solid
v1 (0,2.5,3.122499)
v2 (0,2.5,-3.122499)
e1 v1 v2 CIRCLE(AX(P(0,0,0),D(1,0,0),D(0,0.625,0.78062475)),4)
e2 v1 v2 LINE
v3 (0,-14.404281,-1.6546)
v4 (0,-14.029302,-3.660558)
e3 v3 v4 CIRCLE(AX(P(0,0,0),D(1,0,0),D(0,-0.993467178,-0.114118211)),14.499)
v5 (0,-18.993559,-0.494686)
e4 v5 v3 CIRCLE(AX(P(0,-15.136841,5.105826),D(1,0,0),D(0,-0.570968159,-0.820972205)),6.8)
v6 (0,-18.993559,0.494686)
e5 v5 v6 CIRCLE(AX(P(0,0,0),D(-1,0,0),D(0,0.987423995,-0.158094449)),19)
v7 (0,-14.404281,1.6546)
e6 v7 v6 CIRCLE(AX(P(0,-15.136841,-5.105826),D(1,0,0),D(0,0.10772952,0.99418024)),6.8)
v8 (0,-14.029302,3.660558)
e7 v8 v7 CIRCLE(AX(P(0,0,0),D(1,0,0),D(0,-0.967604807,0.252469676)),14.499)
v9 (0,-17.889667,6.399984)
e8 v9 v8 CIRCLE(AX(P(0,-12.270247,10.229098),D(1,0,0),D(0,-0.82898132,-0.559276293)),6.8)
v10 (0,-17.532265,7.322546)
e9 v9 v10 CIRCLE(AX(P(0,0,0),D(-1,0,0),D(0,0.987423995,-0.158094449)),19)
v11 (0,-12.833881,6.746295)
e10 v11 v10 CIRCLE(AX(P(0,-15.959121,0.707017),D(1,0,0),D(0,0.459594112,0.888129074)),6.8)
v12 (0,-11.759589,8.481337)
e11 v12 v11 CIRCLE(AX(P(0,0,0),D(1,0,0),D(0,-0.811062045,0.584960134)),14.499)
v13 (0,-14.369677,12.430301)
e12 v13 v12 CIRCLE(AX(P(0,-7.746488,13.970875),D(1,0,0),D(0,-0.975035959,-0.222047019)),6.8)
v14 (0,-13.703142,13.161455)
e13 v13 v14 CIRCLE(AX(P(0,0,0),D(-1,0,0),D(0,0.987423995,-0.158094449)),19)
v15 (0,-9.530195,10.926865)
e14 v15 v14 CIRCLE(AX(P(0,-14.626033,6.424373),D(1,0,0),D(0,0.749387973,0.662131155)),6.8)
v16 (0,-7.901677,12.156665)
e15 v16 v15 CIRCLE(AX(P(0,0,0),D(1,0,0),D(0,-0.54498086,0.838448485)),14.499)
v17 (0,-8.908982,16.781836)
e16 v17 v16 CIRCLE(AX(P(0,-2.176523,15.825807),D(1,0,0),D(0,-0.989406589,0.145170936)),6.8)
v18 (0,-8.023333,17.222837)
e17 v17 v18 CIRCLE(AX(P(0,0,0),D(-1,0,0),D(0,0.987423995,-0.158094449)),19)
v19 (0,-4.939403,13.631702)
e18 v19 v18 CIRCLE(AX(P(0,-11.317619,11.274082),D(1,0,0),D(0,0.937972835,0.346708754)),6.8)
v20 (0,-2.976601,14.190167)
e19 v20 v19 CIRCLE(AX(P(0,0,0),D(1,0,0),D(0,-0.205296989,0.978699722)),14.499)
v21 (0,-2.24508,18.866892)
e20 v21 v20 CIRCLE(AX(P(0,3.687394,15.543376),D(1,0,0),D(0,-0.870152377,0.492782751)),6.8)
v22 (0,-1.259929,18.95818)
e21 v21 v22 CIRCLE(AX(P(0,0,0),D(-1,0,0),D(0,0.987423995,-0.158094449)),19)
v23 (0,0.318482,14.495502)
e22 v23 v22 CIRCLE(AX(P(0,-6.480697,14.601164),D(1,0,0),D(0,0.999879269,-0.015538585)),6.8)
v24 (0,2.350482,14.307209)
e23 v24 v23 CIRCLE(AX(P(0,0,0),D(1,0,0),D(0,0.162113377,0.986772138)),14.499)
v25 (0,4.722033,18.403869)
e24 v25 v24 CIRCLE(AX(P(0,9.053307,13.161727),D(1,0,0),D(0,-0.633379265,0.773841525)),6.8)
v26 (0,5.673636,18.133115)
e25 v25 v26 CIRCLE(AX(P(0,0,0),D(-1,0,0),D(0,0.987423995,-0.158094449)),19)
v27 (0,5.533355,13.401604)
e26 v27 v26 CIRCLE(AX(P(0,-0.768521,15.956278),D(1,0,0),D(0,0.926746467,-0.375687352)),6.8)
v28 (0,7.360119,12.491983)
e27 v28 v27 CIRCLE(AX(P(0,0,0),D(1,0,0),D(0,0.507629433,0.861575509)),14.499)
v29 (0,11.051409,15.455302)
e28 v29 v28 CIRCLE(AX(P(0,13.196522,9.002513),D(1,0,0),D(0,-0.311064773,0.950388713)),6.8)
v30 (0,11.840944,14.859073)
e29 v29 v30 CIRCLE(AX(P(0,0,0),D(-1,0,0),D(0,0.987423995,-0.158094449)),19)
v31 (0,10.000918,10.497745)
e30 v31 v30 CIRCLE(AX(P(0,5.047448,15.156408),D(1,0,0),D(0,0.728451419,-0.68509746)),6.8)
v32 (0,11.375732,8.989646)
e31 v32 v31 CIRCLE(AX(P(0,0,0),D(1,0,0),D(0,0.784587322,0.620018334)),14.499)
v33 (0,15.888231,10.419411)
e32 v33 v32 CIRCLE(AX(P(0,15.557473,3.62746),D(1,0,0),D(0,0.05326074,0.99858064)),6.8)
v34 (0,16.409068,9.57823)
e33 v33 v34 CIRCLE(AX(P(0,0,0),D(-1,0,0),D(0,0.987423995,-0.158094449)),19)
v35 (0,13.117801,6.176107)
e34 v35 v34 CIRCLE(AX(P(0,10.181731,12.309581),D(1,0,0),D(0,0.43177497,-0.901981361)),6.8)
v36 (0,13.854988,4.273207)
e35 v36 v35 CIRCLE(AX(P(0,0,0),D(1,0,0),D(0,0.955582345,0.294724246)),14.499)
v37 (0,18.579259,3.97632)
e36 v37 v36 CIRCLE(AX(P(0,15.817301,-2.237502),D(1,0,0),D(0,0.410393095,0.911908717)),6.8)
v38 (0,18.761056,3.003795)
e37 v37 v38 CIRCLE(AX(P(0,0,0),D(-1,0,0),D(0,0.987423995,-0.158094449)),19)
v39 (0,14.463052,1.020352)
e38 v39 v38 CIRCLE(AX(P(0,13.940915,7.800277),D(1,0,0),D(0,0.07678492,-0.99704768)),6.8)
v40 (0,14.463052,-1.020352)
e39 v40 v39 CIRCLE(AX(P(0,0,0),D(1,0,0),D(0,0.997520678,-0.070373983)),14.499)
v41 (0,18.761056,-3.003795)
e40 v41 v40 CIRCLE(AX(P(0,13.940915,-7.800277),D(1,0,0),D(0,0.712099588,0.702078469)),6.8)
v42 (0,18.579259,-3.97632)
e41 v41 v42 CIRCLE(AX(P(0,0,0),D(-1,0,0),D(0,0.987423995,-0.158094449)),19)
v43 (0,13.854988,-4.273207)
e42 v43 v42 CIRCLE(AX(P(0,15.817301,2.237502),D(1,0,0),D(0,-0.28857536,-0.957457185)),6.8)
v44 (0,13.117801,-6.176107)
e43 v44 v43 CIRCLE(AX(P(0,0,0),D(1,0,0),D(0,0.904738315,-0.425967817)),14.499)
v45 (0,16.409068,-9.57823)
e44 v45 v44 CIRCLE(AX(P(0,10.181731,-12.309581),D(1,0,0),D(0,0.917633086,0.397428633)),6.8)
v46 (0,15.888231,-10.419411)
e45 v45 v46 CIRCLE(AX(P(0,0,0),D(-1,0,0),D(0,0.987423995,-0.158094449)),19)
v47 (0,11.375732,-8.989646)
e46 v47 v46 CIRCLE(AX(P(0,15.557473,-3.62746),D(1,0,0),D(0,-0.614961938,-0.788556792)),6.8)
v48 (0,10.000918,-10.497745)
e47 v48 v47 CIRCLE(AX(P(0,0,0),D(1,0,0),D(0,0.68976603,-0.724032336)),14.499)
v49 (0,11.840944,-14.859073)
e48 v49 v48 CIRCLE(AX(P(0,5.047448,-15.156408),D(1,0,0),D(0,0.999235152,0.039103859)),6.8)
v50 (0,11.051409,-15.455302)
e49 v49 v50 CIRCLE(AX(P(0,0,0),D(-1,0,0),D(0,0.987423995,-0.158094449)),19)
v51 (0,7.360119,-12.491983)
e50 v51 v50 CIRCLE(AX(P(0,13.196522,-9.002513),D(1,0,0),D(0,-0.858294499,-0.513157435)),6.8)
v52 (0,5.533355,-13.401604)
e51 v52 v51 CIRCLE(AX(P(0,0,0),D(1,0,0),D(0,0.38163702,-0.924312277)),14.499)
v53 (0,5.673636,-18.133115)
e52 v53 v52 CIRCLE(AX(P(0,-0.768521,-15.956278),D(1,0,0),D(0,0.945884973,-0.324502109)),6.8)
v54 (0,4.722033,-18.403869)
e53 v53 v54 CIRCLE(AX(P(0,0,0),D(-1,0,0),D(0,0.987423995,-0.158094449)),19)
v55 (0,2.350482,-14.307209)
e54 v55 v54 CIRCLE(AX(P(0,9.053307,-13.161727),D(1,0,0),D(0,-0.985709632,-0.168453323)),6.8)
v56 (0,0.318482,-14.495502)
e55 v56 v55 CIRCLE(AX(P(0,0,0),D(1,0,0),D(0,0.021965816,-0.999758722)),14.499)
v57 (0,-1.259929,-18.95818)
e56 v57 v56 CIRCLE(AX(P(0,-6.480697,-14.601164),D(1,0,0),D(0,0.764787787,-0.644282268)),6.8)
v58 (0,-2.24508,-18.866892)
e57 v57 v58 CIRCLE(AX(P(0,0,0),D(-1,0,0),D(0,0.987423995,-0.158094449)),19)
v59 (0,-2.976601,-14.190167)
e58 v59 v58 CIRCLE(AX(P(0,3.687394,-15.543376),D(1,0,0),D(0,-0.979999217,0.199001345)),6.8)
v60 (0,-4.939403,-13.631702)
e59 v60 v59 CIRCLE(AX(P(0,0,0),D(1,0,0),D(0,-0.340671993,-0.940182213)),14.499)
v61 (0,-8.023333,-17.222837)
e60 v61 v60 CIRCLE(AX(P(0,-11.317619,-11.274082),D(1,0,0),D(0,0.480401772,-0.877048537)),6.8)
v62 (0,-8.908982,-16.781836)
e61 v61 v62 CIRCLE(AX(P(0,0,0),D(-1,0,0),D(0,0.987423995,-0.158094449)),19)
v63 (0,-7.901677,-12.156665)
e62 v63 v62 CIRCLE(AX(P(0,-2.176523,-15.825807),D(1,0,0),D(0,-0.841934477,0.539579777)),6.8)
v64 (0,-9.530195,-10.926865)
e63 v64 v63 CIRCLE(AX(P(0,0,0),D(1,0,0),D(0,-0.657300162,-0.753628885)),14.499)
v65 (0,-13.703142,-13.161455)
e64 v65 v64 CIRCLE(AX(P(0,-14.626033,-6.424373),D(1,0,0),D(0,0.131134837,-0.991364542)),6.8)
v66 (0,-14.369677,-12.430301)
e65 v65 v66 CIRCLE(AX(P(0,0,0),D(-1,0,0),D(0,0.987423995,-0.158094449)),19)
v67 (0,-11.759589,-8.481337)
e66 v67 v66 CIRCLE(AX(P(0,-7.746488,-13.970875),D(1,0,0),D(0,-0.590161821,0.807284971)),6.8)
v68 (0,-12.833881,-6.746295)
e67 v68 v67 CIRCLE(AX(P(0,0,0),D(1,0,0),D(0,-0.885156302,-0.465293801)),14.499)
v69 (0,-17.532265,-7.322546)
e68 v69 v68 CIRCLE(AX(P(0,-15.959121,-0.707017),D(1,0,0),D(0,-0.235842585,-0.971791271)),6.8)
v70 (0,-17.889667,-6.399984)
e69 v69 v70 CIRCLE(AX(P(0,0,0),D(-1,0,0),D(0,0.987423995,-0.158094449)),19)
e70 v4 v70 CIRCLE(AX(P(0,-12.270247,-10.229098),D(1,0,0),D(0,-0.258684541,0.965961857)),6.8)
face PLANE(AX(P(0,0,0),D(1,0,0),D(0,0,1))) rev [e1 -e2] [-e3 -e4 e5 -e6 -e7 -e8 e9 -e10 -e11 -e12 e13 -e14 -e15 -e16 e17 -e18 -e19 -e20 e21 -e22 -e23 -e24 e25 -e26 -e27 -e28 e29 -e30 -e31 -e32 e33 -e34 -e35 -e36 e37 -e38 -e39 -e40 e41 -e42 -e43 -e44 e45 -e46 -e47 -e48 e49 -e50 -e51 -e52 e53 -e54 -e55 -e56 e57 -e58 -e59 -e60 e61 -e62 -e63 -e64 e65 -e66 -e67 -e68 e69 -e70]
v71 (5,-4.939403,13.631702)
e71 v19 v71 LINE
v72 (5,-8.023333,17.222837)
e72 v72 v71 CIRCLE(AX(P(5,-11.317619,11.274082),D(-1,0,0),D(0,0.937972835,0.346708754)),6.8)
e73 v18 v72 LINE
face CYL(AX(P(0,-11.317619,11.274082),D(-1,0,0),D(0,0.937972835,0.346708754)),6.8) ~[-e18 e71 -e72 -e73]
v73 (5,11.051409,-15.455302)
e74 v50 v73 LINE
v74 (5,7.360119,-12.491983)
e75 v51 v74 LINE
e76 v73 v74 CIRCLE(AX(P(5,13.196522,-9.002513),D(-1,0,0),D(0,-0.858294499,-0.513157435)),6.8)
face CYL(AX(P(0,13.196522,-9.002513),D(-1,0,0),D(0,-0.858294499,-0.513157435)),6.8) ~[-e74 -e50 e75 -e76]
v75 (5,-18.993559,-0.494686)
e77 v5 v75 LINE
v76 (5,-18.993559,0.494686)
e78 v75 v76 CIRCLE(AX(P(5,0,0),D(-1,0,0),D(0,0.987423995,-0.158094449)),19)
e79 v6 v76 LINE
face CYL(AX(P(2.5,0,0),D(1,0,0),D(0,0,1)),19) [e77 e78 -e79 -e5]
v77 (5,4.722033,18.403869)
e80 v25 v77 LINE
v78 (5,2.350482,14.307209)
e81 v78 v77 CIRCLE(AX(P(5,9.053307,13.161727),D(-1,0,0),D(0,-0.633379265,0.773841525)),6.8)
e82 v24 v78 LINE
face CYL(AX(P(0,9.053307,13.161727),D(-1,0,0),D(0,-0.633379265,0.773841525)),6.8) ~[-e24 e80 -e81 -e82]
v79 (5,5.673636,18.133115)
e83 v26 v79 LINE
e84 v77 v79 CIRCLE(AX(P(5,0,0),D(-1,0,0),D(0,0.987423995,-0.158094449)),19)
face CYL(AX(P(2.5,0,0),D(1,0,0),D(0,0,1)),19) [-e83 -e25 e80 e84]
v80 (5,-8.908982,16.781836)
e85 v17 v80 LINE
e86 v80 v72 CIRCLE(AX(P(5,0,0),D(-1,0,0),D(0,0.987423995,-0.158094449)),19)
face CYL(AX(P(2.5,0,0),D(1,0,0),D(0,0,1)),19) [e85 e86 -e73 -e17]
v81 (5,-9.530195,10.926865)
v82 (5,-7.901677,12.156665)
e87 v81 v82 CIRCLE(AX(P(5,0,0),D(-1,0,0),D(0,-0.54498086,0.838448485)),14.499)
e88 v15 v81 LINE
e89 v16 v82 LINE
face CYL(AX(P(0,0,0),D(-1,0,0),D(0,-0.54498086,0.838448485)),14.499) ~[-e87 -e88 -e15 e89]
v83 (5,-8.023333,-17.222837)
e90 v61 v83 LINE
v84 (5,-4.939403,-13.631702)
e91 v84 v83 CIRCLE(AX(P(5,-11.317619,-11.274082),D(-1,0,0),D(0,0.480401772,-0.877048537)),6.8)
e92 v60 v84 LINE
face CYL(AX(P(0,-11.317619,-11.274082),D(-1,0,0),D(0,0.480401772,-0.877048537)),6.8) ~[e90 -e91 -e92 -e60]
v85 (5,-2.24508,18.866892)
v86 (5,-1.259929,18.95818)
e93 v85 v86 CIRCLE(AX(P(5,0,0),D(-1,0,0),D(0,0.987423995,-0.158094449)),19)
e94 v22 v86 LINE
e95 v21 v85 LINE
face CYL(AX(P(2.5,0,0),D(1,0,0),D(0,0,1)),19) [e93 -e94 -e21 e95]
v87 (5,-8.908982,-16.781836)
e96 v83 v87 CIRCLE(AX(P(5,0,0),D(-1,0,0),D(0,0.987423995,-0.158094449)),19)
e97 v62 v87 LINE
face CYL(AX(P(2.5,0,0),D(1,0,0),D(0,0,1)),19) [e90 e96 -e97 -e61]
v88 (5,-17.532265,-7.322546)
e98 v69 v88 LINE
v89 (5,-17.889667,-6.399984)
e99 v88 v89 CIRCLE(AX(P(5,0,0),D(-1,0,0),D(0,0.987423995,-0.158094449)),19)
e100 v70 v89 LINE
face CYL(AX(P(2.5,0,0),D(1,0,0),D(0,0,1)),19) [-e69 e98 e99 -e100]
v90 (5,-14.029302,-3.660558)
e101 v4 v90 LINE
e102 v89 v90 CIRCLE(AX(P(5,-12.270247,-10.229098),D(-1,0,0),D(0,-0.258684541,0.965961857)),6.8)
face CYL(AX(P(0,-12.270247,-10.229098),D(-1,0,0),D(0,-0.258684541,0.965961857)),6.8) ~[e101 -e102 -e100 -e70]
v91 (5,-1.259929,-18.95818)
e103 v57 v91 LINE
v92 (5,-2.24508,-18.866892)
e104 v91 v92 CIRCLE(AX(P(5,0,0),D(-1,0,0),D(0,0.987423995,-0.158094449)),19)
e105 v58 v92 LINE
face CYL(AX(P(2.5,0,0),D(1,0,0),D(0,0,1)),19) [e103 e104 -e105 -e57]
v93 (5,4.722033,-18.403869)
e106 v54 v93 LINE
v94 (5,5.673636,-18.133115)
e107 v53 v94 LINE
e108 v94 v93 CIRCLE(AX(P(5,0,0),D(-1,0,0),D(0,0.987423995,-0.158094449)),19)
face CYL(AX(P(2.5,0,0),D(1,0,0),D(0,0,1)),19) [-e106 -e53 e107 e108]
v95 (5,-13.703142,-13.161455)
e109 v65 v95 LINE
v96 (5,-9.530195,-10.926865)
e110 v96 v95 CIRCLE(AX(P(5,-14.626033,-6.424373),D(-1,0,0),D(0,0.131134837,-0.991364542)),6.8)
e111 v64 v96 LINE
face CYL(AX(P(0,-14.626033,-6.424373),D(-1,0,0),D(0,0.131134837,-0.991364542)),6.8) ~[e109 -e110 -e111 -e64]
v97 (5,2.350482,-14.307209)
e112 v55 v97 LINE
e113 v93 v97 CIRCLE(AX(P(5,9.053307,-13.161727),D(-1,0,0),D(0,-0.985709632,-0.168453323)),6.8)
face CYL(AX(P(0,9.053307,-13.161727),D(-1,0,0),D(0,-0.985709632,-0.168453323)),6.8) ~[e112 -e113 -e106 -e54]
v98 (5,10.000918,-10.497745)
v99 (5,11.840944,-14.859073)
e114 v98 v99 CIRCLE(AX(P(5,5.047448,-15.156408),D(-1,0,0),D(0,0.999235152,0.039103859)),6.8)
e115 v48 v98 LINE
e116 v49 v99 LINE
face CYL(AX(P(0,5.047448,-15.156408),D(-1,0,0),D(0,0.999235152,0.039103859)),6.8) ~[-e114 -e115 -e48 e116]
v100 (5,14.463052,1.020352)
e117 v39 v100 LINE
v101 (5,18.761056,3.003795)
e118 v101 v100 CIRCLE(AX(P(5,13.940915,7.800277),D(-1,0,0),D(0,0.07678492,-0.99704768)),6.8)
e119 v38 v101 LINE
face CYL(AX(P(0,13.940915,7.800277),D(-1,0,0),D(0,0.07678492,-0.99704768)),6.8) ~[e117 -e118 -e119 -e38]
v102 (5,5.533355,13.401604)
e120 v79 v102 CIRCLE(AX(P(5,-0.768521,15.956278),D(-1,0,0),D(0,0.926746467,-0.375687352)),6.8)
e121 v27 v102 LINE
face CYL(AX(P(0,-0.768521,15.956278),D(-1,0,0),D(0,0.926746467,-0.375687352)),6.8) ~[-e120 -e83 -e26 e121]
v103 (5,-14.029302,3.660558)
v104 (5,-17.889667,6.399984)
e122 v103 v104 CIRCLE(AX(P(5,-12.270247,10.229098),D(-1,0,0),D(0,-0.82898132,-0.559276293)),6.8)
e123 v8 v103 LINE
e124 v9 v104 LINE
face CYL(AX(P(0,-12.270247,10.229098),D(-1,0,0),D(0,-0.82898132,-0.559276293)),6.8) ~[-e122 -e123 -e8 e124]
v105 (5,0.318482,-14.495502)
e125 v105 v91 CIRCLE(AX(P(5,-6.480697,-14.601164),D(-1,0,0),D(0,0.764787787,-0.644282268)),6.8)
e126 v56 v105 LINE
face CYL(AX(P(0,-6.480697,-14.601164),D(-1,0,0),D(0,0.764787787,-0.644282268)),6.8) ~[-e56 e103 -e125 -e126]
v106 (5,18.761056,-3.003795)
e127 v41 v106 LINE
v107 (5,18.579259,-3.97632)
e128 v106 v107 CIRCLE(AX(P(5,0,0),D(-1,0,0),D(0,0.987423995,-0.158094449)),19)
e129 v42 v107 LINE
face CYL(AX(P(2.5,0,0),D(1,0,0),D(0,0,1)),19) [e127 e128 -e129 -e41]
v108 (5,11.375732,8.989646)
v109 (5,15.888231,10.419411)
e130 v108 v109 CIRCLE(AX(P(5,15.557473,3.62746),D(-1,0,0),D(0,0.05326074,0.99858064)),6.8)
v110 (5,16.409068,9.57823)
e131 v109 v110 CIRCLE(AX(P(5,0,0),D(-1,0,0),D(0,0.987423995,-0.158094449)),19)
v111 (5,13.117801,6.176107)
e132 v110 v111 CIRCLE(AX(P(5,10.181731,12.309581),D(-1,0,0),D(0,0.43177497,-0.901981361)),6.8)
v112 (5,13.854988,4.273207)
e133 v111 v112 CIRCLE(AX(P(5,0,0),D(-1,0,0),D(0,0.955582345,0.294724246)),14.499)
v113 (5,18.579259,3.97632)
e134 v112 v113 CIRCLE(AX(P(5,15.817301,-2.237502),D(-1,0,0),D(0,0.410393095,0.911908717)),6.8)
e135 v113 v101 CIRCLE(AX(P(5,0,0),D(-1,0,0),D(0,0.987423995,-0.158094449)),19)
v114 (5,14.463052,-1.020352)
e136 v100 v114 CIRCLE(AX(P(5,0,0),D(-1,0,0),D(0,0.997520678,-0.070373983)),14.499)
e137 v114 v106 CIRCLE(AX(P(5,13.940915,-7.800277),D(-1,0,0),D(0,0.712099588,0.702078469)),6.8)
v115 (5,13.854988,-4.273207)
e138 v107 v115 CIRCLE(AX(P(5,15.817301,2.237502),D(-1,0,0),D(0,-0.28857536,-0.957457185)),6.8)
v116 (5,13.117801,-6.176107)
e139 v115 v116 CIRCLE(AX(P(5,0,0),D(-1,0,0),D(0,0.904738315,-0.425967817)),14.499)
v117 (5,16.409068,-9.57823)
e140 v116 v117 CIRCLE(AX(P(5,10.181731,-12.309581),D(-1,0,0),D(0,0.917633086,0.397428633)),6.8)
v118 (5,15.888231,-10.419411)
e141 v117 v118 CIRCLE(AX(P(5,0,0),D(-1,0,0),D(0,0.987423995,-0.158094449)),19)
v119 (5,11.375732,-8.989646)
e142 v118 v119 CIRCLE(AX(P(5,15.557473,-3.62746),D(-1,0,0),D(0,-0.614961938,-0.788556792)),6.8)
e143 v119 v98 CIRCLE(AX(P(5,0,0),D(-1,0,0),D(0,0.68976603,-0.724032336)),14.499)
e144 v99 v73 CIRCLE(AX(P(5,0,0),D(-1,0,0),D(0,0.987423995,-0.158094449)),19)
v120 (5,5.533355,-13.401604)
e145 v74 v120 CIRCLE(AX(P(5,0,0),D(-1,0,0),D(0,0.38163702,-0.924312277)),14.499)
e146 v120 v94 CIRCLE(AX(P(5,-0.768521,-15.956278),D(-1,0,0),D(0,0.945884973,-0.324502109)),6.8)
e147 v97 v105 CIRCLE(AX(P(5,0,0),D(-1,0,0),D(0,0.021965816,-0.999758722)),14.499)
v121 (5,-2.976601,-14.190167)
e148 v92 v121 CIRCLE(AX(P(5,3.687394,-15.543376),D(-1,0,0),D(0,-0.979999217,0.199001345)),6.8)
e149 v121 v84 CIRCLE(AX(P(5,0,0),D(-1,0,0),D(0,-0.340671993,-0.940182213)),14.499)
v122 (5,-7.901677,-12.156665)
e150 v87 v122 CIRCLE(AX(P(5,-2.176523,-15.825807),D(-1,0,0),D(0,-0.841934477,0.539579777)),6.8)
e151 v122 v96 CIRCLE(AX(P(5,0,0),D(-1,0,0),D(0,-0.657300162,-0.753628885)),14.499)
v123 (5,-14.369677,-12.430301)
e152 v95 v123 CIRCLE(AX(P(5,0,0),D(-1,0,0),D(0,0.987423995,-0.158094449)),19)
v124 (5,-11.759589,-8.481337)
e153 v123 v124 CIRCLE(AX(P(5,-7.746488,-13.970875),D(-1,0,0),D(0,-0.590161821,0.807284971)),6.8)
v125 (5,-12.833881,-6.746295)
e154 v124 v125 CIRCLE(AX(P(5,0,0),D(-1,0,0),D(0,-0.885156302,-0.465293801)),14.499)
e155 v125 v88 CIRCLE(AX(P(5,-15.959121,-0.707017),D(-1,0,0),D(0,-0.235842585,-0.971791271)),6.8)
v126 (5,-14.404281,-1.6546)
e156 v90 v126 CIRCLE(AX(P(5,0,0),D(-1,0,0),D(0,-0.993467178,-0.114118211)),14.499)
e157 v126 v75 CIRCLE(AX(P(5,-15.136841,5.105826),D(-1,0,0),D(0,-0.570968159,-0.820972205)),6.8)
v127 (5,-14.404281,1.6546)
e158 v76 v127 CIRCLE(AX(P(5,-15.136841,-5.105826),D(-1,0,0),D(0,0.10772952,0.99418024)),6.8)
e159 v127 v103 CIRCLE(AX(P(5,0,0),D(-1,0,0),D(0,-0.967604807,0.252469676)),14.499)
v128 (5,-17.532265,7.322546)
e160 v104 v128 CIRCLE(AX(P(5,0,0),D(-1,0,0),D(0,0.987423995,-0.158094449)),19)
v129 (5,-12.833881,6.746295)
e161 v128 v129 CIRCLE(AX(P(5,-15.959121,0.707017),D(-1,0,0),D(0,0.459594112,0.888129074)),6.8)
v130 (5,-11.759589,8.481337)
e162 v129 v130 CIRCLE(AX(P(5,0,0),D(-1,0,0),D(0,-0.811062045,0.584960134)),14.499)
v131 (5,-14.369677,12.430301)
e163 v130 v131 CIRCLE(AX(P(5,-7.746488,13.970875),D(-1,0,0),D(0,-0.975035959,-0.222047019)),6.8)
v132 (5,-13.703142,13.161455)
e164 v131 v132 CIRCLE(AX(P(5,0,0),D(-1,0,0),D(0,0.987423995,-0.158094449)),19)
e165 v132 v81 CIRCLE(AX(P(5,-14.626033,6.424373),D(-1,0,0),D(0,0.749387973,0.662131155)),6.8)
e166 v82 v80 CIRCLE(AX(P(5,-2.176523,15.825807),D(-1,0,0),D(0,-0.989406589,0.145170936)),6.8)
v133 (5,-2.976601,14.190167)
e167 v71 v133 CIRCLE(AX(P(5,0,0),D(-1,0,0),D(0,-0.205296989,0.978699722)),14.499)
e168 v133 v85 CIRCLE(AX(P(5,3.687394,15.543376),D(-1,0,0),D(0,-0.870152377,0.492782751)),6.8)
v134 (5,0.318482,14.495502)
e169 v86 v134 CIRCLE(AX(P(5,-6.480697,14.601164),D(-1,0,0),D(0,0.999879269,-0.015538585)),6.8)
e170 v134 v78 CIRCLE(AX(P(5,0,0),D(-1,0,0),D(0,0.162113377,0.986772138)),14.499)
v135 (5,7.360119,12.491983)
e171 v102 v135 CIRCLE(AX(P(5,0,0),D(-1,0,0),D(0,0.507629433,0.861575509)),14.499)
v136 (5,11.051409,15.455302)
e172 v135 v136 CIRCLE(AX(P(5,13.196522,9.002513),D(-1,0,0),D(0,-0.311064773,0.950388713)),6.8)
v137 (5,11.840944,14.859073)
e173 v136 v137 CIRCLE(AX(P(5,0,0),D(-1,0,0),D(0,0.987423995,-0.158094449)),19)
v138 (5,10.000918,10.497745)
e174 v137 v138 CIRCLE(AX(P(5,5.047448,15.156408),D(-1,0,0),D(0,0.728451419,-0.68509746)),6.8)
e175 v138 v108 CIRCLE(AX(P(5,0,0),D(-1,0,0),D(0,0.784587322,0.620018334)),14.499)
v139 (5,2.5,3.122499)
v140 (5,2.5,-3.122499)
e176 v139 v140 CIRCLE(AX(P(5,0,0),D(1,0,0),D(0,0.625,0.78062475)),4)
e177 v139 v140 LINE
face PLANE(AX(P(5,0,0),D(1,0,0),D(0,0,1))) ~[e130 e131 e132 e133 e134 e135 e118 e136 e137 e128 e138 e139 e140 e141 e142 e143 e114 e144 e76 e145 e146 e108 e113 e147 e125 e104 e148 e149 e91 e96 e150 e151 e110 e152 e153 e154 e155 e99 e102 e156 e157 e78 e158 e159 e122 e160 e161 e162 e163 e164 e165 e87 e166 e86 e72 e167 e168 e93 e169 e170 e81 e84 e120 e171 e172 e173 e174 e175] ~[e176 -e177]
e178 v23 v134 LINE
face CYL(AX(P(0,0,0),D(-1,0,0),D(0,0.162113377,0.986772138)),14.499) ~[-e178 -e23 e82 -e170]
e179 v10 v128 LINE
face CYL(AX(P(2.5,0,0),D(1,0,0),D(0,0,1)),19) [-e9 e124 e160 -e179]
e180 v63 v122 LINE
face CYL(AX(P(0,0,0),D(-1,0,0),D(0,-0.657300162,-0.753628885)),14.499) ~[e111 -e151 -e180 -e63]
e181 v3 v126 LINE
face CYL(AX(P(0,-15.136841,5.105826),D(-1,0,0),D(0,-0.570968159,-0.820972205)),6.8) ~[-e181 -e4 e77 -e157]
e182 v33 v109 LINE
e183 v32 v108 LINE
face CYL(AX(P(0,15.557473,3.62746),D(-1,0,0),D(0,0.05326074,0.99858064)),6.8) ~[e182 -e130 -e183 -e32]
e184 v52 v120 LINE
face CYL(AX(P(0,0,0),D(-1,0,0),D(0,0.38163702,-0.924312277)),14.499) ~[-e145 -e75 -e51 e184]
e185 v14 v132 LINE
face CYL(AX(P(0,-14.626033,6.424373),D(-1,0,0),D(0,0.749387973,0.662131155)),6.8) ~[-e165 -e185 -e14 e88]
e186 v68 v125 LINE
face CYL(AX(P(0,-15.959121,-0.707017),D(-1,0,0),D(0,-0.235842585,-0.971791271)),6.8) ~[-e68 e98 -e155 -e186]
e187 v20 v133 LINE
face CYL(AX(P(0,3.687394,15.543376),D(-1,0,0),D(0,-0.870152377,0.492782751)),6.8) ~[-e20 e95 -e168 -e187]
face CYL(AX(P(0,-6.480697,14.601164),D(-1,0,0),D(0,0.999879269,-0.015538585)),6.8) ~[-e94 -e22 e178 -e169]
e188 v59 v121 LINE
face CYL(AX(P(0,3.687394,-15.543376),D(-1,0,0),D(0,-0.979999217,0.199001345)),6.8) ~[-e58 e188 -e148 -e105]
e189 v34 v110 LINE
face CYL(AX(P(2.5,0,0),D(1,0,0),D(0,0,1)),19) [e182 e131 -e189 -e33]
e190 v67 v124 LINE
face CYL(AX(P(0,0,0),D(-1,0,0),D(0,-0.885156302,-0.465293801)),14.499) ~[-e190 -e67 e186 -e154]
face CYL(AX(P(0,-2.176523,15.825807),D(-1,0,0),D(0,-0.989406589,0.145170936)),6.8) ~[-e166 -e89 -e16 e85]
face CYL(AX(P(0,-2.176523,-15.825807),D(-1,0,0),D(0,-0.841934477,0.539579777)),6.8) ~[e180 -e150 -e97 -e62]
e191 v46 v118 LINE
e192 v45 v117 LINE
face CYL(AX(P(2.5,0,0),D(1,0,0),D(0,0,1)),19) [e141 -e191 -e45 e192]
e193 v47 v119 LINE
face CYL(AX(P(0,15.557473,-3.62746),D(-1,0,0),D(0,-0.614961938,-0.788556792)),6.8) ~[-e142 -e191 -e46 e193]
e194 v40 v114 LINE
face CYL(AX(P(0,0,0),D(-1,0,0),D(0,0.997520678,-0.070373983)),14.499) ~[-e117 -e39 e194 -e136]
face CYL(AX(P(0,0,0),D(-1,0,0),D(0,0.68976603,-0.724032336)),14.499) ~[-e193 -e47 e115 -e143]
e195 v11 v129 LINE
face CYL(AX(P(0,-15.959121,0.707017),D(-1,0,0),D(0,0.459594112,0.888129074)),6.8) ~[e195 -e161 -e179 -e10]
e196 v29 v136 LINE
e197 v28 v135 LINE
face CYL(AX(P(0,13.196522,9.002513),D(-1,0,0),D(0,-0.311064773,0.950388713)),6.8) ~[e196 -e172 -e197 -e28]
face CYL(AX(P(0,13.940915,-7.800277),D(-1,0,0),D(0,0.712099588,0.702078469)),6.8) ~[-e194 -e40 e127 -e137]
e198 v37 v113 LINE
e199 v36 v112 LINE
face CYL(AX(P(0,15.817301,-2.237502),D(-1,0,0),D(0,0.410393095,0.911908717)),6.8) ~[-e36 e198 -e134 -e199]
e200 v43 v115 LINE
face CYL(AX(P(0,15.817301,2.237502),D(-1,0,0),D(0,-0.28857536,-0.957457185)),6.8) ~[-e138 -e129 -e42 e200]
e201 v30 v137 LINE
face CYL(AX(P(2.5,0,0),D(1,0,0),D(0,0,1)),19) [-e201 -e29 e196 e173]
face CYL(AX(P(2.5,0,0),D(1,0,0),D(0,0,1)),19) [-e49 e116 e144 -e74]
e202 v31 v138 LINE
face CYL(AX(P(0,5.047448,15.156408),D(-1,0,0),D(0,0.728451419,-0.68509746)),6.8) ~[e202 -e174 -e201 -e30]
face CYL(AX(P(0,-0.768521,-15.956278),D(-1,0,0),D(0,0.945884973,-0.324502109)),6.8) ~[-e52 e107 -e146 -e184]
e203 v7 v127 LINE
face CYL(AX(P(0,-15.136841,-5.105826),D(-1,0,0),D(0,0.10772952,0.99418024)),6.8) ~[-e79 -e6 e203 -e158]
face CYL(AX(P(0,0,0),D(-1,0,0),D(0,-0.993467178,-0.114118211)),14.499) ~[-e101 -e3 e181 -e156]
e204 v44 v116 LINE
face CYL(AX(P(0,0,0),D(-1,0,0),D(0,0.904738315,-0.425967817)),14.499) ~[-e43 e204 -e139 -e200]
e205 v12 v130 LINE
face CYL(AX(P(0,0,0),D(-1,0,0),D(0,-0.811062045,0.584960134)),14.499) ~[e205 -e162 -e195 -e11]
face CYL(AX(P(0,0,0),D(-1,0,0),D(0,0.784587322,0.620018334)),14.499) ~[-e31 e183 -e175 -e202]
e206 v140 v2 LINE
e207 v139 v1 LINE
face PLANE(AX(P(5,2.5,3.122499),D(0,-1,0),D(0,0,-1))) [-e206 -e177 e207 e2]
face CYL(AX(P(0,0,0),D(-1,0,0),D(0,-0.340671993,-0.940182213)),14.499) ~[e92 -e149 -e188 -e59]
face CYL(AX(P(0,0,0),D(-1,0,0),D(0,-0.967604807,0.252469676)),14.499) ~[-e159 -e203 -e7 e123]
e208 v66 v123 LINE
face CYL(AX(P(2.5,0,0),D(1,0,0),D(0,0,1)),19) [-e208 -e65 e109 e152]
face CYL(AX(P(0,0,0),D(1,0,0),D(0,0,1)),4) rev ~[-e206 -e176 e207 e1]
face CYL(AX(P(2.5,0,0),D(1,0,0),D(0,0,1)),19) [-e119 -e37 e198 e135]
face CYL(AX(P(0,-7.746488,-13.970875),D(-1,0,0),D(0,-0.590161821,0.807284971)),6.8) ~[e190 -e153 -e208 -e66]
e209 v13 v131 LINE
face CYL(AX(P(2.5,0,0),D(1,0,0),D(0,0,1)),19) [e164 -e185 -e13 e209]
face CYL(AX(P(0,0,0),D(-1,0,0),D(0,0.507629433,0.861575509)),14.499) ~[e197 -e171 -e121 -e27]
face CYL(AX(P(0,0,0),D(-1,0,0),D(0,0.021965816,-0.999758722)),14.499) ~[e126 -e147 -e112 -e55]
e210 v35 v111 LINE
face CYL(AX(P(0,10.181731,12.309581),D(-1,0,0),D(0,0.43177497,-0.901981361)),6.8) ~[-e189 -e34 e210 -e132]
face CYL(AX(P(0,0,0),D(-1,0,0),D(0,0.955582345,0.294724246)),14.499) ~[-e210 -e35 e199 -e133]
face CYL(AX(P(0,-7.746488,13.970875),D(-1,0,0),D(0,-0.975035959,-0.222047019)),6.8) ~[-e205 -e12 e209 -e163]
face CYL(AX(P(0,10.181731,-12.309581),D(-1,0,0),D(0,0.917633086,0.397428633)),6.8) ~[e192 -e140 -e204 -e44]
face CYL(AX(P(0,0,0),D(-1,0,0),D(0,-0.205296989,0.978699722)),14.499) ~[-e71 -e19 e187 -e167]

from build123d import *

# Parameters (mm, degrees)
BASPROSKE_W         = 5
BASPROSKE_H         = 19
TOOTHCUT_DEPTH      = 28.331300737
TEETHCUTS_COUNT     = 17
BORSKE_R            = 4
BORE_DEPTH          = 50.0000508
BOSS_EXTRUDE1_DEPTH = 5


with BuildPart() as part:
    # BasProSke → Base-Revolve (revolve)
    with BuildSketch(Plane(origin=(0, 0, 0), x_dir=(1, 0, 0), z_dir=(0, 1, 0)), mode=Mode.PRIVATE) as base_revolve_sk:
        with Locations((2.5, 9.5)):
            Rectangle(BASPROSKE_W, BASPROSKE_H)
    revolve(base_revolve_sk.sketch.rotate(Axis((-10, 0, 0), (1, 0, 0)), 180), axis=Axis((-10, 0, 0), (1, 0, 0)))

    # TooCutSke → ToothCut (cut, through all)
    with BuildSketch(Plane(origin=(0, 0, 0), x_dir=(0, 0, -1), z_dir=(1, 0, 0))):
        with BuildLine():
            ThreePointArc((1.020352389, 14.463052306), (0, 14.499), (-1.020352389, 14.463052306))
            ThreePointArc((-1.020352389, 14.463052306), (-1.632621885, 16.804485203), (-3.026143023, 18.783192049))
            ThreePointArc((-3.026143023, 18.783192049), (0, 19.0254), (3.026143023, 18.783192049))
            ThreePointArc((3.026143023, 18.783192049), (1.632621885, 16.804485203), (1.020352389, 14.463052306))
        make_face()
    toothcut = extrude(amount=TOOTHCUT_DEPTH, mode=Mode.SUBTRACT)

    # TeethCuts: ToothCut ×17 about axis
    teethcuts_axis = Axis((0, 0, 0), (1, 0, 0))
    for i in range(1, TEETHCUTS_COUNT):
        add(toothcut.rotate(teethcuts_axis, i * 360 / TEETHCUTS_COUNT), mode=Mode.SUBTRACT)

    # BorSke → Bore (cut, symmetric)
    with BuildSketch(Plane(origin=(0, 0, 0), x_dir=(0, 0, -1), z_dir=(1, 0, 0))):
        with Locations(Location((0, 0, 0), (0, 0, 180))):
            Circle(BORSKE_R)
    extrude(amount=BORE_DEPTH, both=True, mode=Mode.SUBTRACT)

    # Sketch1 → Boss-Extrude1 (add)
    with BuildSketch(Plane(origin=(5, 0, 0), x_dir=(0, 0, -1), z_dir=(1, 0, 0))):
        with BuildLine():
            ThreePointArc((3.122498999, 2.5), (0, 4), (-3.122498999, 2.5))
            Line((-3.122498999, 2.5), (3.122498999, 2.5))
        make_face()
    extrude(amount=-BOSS_EXTRUDE1_DEPTH)


solid = part.part
